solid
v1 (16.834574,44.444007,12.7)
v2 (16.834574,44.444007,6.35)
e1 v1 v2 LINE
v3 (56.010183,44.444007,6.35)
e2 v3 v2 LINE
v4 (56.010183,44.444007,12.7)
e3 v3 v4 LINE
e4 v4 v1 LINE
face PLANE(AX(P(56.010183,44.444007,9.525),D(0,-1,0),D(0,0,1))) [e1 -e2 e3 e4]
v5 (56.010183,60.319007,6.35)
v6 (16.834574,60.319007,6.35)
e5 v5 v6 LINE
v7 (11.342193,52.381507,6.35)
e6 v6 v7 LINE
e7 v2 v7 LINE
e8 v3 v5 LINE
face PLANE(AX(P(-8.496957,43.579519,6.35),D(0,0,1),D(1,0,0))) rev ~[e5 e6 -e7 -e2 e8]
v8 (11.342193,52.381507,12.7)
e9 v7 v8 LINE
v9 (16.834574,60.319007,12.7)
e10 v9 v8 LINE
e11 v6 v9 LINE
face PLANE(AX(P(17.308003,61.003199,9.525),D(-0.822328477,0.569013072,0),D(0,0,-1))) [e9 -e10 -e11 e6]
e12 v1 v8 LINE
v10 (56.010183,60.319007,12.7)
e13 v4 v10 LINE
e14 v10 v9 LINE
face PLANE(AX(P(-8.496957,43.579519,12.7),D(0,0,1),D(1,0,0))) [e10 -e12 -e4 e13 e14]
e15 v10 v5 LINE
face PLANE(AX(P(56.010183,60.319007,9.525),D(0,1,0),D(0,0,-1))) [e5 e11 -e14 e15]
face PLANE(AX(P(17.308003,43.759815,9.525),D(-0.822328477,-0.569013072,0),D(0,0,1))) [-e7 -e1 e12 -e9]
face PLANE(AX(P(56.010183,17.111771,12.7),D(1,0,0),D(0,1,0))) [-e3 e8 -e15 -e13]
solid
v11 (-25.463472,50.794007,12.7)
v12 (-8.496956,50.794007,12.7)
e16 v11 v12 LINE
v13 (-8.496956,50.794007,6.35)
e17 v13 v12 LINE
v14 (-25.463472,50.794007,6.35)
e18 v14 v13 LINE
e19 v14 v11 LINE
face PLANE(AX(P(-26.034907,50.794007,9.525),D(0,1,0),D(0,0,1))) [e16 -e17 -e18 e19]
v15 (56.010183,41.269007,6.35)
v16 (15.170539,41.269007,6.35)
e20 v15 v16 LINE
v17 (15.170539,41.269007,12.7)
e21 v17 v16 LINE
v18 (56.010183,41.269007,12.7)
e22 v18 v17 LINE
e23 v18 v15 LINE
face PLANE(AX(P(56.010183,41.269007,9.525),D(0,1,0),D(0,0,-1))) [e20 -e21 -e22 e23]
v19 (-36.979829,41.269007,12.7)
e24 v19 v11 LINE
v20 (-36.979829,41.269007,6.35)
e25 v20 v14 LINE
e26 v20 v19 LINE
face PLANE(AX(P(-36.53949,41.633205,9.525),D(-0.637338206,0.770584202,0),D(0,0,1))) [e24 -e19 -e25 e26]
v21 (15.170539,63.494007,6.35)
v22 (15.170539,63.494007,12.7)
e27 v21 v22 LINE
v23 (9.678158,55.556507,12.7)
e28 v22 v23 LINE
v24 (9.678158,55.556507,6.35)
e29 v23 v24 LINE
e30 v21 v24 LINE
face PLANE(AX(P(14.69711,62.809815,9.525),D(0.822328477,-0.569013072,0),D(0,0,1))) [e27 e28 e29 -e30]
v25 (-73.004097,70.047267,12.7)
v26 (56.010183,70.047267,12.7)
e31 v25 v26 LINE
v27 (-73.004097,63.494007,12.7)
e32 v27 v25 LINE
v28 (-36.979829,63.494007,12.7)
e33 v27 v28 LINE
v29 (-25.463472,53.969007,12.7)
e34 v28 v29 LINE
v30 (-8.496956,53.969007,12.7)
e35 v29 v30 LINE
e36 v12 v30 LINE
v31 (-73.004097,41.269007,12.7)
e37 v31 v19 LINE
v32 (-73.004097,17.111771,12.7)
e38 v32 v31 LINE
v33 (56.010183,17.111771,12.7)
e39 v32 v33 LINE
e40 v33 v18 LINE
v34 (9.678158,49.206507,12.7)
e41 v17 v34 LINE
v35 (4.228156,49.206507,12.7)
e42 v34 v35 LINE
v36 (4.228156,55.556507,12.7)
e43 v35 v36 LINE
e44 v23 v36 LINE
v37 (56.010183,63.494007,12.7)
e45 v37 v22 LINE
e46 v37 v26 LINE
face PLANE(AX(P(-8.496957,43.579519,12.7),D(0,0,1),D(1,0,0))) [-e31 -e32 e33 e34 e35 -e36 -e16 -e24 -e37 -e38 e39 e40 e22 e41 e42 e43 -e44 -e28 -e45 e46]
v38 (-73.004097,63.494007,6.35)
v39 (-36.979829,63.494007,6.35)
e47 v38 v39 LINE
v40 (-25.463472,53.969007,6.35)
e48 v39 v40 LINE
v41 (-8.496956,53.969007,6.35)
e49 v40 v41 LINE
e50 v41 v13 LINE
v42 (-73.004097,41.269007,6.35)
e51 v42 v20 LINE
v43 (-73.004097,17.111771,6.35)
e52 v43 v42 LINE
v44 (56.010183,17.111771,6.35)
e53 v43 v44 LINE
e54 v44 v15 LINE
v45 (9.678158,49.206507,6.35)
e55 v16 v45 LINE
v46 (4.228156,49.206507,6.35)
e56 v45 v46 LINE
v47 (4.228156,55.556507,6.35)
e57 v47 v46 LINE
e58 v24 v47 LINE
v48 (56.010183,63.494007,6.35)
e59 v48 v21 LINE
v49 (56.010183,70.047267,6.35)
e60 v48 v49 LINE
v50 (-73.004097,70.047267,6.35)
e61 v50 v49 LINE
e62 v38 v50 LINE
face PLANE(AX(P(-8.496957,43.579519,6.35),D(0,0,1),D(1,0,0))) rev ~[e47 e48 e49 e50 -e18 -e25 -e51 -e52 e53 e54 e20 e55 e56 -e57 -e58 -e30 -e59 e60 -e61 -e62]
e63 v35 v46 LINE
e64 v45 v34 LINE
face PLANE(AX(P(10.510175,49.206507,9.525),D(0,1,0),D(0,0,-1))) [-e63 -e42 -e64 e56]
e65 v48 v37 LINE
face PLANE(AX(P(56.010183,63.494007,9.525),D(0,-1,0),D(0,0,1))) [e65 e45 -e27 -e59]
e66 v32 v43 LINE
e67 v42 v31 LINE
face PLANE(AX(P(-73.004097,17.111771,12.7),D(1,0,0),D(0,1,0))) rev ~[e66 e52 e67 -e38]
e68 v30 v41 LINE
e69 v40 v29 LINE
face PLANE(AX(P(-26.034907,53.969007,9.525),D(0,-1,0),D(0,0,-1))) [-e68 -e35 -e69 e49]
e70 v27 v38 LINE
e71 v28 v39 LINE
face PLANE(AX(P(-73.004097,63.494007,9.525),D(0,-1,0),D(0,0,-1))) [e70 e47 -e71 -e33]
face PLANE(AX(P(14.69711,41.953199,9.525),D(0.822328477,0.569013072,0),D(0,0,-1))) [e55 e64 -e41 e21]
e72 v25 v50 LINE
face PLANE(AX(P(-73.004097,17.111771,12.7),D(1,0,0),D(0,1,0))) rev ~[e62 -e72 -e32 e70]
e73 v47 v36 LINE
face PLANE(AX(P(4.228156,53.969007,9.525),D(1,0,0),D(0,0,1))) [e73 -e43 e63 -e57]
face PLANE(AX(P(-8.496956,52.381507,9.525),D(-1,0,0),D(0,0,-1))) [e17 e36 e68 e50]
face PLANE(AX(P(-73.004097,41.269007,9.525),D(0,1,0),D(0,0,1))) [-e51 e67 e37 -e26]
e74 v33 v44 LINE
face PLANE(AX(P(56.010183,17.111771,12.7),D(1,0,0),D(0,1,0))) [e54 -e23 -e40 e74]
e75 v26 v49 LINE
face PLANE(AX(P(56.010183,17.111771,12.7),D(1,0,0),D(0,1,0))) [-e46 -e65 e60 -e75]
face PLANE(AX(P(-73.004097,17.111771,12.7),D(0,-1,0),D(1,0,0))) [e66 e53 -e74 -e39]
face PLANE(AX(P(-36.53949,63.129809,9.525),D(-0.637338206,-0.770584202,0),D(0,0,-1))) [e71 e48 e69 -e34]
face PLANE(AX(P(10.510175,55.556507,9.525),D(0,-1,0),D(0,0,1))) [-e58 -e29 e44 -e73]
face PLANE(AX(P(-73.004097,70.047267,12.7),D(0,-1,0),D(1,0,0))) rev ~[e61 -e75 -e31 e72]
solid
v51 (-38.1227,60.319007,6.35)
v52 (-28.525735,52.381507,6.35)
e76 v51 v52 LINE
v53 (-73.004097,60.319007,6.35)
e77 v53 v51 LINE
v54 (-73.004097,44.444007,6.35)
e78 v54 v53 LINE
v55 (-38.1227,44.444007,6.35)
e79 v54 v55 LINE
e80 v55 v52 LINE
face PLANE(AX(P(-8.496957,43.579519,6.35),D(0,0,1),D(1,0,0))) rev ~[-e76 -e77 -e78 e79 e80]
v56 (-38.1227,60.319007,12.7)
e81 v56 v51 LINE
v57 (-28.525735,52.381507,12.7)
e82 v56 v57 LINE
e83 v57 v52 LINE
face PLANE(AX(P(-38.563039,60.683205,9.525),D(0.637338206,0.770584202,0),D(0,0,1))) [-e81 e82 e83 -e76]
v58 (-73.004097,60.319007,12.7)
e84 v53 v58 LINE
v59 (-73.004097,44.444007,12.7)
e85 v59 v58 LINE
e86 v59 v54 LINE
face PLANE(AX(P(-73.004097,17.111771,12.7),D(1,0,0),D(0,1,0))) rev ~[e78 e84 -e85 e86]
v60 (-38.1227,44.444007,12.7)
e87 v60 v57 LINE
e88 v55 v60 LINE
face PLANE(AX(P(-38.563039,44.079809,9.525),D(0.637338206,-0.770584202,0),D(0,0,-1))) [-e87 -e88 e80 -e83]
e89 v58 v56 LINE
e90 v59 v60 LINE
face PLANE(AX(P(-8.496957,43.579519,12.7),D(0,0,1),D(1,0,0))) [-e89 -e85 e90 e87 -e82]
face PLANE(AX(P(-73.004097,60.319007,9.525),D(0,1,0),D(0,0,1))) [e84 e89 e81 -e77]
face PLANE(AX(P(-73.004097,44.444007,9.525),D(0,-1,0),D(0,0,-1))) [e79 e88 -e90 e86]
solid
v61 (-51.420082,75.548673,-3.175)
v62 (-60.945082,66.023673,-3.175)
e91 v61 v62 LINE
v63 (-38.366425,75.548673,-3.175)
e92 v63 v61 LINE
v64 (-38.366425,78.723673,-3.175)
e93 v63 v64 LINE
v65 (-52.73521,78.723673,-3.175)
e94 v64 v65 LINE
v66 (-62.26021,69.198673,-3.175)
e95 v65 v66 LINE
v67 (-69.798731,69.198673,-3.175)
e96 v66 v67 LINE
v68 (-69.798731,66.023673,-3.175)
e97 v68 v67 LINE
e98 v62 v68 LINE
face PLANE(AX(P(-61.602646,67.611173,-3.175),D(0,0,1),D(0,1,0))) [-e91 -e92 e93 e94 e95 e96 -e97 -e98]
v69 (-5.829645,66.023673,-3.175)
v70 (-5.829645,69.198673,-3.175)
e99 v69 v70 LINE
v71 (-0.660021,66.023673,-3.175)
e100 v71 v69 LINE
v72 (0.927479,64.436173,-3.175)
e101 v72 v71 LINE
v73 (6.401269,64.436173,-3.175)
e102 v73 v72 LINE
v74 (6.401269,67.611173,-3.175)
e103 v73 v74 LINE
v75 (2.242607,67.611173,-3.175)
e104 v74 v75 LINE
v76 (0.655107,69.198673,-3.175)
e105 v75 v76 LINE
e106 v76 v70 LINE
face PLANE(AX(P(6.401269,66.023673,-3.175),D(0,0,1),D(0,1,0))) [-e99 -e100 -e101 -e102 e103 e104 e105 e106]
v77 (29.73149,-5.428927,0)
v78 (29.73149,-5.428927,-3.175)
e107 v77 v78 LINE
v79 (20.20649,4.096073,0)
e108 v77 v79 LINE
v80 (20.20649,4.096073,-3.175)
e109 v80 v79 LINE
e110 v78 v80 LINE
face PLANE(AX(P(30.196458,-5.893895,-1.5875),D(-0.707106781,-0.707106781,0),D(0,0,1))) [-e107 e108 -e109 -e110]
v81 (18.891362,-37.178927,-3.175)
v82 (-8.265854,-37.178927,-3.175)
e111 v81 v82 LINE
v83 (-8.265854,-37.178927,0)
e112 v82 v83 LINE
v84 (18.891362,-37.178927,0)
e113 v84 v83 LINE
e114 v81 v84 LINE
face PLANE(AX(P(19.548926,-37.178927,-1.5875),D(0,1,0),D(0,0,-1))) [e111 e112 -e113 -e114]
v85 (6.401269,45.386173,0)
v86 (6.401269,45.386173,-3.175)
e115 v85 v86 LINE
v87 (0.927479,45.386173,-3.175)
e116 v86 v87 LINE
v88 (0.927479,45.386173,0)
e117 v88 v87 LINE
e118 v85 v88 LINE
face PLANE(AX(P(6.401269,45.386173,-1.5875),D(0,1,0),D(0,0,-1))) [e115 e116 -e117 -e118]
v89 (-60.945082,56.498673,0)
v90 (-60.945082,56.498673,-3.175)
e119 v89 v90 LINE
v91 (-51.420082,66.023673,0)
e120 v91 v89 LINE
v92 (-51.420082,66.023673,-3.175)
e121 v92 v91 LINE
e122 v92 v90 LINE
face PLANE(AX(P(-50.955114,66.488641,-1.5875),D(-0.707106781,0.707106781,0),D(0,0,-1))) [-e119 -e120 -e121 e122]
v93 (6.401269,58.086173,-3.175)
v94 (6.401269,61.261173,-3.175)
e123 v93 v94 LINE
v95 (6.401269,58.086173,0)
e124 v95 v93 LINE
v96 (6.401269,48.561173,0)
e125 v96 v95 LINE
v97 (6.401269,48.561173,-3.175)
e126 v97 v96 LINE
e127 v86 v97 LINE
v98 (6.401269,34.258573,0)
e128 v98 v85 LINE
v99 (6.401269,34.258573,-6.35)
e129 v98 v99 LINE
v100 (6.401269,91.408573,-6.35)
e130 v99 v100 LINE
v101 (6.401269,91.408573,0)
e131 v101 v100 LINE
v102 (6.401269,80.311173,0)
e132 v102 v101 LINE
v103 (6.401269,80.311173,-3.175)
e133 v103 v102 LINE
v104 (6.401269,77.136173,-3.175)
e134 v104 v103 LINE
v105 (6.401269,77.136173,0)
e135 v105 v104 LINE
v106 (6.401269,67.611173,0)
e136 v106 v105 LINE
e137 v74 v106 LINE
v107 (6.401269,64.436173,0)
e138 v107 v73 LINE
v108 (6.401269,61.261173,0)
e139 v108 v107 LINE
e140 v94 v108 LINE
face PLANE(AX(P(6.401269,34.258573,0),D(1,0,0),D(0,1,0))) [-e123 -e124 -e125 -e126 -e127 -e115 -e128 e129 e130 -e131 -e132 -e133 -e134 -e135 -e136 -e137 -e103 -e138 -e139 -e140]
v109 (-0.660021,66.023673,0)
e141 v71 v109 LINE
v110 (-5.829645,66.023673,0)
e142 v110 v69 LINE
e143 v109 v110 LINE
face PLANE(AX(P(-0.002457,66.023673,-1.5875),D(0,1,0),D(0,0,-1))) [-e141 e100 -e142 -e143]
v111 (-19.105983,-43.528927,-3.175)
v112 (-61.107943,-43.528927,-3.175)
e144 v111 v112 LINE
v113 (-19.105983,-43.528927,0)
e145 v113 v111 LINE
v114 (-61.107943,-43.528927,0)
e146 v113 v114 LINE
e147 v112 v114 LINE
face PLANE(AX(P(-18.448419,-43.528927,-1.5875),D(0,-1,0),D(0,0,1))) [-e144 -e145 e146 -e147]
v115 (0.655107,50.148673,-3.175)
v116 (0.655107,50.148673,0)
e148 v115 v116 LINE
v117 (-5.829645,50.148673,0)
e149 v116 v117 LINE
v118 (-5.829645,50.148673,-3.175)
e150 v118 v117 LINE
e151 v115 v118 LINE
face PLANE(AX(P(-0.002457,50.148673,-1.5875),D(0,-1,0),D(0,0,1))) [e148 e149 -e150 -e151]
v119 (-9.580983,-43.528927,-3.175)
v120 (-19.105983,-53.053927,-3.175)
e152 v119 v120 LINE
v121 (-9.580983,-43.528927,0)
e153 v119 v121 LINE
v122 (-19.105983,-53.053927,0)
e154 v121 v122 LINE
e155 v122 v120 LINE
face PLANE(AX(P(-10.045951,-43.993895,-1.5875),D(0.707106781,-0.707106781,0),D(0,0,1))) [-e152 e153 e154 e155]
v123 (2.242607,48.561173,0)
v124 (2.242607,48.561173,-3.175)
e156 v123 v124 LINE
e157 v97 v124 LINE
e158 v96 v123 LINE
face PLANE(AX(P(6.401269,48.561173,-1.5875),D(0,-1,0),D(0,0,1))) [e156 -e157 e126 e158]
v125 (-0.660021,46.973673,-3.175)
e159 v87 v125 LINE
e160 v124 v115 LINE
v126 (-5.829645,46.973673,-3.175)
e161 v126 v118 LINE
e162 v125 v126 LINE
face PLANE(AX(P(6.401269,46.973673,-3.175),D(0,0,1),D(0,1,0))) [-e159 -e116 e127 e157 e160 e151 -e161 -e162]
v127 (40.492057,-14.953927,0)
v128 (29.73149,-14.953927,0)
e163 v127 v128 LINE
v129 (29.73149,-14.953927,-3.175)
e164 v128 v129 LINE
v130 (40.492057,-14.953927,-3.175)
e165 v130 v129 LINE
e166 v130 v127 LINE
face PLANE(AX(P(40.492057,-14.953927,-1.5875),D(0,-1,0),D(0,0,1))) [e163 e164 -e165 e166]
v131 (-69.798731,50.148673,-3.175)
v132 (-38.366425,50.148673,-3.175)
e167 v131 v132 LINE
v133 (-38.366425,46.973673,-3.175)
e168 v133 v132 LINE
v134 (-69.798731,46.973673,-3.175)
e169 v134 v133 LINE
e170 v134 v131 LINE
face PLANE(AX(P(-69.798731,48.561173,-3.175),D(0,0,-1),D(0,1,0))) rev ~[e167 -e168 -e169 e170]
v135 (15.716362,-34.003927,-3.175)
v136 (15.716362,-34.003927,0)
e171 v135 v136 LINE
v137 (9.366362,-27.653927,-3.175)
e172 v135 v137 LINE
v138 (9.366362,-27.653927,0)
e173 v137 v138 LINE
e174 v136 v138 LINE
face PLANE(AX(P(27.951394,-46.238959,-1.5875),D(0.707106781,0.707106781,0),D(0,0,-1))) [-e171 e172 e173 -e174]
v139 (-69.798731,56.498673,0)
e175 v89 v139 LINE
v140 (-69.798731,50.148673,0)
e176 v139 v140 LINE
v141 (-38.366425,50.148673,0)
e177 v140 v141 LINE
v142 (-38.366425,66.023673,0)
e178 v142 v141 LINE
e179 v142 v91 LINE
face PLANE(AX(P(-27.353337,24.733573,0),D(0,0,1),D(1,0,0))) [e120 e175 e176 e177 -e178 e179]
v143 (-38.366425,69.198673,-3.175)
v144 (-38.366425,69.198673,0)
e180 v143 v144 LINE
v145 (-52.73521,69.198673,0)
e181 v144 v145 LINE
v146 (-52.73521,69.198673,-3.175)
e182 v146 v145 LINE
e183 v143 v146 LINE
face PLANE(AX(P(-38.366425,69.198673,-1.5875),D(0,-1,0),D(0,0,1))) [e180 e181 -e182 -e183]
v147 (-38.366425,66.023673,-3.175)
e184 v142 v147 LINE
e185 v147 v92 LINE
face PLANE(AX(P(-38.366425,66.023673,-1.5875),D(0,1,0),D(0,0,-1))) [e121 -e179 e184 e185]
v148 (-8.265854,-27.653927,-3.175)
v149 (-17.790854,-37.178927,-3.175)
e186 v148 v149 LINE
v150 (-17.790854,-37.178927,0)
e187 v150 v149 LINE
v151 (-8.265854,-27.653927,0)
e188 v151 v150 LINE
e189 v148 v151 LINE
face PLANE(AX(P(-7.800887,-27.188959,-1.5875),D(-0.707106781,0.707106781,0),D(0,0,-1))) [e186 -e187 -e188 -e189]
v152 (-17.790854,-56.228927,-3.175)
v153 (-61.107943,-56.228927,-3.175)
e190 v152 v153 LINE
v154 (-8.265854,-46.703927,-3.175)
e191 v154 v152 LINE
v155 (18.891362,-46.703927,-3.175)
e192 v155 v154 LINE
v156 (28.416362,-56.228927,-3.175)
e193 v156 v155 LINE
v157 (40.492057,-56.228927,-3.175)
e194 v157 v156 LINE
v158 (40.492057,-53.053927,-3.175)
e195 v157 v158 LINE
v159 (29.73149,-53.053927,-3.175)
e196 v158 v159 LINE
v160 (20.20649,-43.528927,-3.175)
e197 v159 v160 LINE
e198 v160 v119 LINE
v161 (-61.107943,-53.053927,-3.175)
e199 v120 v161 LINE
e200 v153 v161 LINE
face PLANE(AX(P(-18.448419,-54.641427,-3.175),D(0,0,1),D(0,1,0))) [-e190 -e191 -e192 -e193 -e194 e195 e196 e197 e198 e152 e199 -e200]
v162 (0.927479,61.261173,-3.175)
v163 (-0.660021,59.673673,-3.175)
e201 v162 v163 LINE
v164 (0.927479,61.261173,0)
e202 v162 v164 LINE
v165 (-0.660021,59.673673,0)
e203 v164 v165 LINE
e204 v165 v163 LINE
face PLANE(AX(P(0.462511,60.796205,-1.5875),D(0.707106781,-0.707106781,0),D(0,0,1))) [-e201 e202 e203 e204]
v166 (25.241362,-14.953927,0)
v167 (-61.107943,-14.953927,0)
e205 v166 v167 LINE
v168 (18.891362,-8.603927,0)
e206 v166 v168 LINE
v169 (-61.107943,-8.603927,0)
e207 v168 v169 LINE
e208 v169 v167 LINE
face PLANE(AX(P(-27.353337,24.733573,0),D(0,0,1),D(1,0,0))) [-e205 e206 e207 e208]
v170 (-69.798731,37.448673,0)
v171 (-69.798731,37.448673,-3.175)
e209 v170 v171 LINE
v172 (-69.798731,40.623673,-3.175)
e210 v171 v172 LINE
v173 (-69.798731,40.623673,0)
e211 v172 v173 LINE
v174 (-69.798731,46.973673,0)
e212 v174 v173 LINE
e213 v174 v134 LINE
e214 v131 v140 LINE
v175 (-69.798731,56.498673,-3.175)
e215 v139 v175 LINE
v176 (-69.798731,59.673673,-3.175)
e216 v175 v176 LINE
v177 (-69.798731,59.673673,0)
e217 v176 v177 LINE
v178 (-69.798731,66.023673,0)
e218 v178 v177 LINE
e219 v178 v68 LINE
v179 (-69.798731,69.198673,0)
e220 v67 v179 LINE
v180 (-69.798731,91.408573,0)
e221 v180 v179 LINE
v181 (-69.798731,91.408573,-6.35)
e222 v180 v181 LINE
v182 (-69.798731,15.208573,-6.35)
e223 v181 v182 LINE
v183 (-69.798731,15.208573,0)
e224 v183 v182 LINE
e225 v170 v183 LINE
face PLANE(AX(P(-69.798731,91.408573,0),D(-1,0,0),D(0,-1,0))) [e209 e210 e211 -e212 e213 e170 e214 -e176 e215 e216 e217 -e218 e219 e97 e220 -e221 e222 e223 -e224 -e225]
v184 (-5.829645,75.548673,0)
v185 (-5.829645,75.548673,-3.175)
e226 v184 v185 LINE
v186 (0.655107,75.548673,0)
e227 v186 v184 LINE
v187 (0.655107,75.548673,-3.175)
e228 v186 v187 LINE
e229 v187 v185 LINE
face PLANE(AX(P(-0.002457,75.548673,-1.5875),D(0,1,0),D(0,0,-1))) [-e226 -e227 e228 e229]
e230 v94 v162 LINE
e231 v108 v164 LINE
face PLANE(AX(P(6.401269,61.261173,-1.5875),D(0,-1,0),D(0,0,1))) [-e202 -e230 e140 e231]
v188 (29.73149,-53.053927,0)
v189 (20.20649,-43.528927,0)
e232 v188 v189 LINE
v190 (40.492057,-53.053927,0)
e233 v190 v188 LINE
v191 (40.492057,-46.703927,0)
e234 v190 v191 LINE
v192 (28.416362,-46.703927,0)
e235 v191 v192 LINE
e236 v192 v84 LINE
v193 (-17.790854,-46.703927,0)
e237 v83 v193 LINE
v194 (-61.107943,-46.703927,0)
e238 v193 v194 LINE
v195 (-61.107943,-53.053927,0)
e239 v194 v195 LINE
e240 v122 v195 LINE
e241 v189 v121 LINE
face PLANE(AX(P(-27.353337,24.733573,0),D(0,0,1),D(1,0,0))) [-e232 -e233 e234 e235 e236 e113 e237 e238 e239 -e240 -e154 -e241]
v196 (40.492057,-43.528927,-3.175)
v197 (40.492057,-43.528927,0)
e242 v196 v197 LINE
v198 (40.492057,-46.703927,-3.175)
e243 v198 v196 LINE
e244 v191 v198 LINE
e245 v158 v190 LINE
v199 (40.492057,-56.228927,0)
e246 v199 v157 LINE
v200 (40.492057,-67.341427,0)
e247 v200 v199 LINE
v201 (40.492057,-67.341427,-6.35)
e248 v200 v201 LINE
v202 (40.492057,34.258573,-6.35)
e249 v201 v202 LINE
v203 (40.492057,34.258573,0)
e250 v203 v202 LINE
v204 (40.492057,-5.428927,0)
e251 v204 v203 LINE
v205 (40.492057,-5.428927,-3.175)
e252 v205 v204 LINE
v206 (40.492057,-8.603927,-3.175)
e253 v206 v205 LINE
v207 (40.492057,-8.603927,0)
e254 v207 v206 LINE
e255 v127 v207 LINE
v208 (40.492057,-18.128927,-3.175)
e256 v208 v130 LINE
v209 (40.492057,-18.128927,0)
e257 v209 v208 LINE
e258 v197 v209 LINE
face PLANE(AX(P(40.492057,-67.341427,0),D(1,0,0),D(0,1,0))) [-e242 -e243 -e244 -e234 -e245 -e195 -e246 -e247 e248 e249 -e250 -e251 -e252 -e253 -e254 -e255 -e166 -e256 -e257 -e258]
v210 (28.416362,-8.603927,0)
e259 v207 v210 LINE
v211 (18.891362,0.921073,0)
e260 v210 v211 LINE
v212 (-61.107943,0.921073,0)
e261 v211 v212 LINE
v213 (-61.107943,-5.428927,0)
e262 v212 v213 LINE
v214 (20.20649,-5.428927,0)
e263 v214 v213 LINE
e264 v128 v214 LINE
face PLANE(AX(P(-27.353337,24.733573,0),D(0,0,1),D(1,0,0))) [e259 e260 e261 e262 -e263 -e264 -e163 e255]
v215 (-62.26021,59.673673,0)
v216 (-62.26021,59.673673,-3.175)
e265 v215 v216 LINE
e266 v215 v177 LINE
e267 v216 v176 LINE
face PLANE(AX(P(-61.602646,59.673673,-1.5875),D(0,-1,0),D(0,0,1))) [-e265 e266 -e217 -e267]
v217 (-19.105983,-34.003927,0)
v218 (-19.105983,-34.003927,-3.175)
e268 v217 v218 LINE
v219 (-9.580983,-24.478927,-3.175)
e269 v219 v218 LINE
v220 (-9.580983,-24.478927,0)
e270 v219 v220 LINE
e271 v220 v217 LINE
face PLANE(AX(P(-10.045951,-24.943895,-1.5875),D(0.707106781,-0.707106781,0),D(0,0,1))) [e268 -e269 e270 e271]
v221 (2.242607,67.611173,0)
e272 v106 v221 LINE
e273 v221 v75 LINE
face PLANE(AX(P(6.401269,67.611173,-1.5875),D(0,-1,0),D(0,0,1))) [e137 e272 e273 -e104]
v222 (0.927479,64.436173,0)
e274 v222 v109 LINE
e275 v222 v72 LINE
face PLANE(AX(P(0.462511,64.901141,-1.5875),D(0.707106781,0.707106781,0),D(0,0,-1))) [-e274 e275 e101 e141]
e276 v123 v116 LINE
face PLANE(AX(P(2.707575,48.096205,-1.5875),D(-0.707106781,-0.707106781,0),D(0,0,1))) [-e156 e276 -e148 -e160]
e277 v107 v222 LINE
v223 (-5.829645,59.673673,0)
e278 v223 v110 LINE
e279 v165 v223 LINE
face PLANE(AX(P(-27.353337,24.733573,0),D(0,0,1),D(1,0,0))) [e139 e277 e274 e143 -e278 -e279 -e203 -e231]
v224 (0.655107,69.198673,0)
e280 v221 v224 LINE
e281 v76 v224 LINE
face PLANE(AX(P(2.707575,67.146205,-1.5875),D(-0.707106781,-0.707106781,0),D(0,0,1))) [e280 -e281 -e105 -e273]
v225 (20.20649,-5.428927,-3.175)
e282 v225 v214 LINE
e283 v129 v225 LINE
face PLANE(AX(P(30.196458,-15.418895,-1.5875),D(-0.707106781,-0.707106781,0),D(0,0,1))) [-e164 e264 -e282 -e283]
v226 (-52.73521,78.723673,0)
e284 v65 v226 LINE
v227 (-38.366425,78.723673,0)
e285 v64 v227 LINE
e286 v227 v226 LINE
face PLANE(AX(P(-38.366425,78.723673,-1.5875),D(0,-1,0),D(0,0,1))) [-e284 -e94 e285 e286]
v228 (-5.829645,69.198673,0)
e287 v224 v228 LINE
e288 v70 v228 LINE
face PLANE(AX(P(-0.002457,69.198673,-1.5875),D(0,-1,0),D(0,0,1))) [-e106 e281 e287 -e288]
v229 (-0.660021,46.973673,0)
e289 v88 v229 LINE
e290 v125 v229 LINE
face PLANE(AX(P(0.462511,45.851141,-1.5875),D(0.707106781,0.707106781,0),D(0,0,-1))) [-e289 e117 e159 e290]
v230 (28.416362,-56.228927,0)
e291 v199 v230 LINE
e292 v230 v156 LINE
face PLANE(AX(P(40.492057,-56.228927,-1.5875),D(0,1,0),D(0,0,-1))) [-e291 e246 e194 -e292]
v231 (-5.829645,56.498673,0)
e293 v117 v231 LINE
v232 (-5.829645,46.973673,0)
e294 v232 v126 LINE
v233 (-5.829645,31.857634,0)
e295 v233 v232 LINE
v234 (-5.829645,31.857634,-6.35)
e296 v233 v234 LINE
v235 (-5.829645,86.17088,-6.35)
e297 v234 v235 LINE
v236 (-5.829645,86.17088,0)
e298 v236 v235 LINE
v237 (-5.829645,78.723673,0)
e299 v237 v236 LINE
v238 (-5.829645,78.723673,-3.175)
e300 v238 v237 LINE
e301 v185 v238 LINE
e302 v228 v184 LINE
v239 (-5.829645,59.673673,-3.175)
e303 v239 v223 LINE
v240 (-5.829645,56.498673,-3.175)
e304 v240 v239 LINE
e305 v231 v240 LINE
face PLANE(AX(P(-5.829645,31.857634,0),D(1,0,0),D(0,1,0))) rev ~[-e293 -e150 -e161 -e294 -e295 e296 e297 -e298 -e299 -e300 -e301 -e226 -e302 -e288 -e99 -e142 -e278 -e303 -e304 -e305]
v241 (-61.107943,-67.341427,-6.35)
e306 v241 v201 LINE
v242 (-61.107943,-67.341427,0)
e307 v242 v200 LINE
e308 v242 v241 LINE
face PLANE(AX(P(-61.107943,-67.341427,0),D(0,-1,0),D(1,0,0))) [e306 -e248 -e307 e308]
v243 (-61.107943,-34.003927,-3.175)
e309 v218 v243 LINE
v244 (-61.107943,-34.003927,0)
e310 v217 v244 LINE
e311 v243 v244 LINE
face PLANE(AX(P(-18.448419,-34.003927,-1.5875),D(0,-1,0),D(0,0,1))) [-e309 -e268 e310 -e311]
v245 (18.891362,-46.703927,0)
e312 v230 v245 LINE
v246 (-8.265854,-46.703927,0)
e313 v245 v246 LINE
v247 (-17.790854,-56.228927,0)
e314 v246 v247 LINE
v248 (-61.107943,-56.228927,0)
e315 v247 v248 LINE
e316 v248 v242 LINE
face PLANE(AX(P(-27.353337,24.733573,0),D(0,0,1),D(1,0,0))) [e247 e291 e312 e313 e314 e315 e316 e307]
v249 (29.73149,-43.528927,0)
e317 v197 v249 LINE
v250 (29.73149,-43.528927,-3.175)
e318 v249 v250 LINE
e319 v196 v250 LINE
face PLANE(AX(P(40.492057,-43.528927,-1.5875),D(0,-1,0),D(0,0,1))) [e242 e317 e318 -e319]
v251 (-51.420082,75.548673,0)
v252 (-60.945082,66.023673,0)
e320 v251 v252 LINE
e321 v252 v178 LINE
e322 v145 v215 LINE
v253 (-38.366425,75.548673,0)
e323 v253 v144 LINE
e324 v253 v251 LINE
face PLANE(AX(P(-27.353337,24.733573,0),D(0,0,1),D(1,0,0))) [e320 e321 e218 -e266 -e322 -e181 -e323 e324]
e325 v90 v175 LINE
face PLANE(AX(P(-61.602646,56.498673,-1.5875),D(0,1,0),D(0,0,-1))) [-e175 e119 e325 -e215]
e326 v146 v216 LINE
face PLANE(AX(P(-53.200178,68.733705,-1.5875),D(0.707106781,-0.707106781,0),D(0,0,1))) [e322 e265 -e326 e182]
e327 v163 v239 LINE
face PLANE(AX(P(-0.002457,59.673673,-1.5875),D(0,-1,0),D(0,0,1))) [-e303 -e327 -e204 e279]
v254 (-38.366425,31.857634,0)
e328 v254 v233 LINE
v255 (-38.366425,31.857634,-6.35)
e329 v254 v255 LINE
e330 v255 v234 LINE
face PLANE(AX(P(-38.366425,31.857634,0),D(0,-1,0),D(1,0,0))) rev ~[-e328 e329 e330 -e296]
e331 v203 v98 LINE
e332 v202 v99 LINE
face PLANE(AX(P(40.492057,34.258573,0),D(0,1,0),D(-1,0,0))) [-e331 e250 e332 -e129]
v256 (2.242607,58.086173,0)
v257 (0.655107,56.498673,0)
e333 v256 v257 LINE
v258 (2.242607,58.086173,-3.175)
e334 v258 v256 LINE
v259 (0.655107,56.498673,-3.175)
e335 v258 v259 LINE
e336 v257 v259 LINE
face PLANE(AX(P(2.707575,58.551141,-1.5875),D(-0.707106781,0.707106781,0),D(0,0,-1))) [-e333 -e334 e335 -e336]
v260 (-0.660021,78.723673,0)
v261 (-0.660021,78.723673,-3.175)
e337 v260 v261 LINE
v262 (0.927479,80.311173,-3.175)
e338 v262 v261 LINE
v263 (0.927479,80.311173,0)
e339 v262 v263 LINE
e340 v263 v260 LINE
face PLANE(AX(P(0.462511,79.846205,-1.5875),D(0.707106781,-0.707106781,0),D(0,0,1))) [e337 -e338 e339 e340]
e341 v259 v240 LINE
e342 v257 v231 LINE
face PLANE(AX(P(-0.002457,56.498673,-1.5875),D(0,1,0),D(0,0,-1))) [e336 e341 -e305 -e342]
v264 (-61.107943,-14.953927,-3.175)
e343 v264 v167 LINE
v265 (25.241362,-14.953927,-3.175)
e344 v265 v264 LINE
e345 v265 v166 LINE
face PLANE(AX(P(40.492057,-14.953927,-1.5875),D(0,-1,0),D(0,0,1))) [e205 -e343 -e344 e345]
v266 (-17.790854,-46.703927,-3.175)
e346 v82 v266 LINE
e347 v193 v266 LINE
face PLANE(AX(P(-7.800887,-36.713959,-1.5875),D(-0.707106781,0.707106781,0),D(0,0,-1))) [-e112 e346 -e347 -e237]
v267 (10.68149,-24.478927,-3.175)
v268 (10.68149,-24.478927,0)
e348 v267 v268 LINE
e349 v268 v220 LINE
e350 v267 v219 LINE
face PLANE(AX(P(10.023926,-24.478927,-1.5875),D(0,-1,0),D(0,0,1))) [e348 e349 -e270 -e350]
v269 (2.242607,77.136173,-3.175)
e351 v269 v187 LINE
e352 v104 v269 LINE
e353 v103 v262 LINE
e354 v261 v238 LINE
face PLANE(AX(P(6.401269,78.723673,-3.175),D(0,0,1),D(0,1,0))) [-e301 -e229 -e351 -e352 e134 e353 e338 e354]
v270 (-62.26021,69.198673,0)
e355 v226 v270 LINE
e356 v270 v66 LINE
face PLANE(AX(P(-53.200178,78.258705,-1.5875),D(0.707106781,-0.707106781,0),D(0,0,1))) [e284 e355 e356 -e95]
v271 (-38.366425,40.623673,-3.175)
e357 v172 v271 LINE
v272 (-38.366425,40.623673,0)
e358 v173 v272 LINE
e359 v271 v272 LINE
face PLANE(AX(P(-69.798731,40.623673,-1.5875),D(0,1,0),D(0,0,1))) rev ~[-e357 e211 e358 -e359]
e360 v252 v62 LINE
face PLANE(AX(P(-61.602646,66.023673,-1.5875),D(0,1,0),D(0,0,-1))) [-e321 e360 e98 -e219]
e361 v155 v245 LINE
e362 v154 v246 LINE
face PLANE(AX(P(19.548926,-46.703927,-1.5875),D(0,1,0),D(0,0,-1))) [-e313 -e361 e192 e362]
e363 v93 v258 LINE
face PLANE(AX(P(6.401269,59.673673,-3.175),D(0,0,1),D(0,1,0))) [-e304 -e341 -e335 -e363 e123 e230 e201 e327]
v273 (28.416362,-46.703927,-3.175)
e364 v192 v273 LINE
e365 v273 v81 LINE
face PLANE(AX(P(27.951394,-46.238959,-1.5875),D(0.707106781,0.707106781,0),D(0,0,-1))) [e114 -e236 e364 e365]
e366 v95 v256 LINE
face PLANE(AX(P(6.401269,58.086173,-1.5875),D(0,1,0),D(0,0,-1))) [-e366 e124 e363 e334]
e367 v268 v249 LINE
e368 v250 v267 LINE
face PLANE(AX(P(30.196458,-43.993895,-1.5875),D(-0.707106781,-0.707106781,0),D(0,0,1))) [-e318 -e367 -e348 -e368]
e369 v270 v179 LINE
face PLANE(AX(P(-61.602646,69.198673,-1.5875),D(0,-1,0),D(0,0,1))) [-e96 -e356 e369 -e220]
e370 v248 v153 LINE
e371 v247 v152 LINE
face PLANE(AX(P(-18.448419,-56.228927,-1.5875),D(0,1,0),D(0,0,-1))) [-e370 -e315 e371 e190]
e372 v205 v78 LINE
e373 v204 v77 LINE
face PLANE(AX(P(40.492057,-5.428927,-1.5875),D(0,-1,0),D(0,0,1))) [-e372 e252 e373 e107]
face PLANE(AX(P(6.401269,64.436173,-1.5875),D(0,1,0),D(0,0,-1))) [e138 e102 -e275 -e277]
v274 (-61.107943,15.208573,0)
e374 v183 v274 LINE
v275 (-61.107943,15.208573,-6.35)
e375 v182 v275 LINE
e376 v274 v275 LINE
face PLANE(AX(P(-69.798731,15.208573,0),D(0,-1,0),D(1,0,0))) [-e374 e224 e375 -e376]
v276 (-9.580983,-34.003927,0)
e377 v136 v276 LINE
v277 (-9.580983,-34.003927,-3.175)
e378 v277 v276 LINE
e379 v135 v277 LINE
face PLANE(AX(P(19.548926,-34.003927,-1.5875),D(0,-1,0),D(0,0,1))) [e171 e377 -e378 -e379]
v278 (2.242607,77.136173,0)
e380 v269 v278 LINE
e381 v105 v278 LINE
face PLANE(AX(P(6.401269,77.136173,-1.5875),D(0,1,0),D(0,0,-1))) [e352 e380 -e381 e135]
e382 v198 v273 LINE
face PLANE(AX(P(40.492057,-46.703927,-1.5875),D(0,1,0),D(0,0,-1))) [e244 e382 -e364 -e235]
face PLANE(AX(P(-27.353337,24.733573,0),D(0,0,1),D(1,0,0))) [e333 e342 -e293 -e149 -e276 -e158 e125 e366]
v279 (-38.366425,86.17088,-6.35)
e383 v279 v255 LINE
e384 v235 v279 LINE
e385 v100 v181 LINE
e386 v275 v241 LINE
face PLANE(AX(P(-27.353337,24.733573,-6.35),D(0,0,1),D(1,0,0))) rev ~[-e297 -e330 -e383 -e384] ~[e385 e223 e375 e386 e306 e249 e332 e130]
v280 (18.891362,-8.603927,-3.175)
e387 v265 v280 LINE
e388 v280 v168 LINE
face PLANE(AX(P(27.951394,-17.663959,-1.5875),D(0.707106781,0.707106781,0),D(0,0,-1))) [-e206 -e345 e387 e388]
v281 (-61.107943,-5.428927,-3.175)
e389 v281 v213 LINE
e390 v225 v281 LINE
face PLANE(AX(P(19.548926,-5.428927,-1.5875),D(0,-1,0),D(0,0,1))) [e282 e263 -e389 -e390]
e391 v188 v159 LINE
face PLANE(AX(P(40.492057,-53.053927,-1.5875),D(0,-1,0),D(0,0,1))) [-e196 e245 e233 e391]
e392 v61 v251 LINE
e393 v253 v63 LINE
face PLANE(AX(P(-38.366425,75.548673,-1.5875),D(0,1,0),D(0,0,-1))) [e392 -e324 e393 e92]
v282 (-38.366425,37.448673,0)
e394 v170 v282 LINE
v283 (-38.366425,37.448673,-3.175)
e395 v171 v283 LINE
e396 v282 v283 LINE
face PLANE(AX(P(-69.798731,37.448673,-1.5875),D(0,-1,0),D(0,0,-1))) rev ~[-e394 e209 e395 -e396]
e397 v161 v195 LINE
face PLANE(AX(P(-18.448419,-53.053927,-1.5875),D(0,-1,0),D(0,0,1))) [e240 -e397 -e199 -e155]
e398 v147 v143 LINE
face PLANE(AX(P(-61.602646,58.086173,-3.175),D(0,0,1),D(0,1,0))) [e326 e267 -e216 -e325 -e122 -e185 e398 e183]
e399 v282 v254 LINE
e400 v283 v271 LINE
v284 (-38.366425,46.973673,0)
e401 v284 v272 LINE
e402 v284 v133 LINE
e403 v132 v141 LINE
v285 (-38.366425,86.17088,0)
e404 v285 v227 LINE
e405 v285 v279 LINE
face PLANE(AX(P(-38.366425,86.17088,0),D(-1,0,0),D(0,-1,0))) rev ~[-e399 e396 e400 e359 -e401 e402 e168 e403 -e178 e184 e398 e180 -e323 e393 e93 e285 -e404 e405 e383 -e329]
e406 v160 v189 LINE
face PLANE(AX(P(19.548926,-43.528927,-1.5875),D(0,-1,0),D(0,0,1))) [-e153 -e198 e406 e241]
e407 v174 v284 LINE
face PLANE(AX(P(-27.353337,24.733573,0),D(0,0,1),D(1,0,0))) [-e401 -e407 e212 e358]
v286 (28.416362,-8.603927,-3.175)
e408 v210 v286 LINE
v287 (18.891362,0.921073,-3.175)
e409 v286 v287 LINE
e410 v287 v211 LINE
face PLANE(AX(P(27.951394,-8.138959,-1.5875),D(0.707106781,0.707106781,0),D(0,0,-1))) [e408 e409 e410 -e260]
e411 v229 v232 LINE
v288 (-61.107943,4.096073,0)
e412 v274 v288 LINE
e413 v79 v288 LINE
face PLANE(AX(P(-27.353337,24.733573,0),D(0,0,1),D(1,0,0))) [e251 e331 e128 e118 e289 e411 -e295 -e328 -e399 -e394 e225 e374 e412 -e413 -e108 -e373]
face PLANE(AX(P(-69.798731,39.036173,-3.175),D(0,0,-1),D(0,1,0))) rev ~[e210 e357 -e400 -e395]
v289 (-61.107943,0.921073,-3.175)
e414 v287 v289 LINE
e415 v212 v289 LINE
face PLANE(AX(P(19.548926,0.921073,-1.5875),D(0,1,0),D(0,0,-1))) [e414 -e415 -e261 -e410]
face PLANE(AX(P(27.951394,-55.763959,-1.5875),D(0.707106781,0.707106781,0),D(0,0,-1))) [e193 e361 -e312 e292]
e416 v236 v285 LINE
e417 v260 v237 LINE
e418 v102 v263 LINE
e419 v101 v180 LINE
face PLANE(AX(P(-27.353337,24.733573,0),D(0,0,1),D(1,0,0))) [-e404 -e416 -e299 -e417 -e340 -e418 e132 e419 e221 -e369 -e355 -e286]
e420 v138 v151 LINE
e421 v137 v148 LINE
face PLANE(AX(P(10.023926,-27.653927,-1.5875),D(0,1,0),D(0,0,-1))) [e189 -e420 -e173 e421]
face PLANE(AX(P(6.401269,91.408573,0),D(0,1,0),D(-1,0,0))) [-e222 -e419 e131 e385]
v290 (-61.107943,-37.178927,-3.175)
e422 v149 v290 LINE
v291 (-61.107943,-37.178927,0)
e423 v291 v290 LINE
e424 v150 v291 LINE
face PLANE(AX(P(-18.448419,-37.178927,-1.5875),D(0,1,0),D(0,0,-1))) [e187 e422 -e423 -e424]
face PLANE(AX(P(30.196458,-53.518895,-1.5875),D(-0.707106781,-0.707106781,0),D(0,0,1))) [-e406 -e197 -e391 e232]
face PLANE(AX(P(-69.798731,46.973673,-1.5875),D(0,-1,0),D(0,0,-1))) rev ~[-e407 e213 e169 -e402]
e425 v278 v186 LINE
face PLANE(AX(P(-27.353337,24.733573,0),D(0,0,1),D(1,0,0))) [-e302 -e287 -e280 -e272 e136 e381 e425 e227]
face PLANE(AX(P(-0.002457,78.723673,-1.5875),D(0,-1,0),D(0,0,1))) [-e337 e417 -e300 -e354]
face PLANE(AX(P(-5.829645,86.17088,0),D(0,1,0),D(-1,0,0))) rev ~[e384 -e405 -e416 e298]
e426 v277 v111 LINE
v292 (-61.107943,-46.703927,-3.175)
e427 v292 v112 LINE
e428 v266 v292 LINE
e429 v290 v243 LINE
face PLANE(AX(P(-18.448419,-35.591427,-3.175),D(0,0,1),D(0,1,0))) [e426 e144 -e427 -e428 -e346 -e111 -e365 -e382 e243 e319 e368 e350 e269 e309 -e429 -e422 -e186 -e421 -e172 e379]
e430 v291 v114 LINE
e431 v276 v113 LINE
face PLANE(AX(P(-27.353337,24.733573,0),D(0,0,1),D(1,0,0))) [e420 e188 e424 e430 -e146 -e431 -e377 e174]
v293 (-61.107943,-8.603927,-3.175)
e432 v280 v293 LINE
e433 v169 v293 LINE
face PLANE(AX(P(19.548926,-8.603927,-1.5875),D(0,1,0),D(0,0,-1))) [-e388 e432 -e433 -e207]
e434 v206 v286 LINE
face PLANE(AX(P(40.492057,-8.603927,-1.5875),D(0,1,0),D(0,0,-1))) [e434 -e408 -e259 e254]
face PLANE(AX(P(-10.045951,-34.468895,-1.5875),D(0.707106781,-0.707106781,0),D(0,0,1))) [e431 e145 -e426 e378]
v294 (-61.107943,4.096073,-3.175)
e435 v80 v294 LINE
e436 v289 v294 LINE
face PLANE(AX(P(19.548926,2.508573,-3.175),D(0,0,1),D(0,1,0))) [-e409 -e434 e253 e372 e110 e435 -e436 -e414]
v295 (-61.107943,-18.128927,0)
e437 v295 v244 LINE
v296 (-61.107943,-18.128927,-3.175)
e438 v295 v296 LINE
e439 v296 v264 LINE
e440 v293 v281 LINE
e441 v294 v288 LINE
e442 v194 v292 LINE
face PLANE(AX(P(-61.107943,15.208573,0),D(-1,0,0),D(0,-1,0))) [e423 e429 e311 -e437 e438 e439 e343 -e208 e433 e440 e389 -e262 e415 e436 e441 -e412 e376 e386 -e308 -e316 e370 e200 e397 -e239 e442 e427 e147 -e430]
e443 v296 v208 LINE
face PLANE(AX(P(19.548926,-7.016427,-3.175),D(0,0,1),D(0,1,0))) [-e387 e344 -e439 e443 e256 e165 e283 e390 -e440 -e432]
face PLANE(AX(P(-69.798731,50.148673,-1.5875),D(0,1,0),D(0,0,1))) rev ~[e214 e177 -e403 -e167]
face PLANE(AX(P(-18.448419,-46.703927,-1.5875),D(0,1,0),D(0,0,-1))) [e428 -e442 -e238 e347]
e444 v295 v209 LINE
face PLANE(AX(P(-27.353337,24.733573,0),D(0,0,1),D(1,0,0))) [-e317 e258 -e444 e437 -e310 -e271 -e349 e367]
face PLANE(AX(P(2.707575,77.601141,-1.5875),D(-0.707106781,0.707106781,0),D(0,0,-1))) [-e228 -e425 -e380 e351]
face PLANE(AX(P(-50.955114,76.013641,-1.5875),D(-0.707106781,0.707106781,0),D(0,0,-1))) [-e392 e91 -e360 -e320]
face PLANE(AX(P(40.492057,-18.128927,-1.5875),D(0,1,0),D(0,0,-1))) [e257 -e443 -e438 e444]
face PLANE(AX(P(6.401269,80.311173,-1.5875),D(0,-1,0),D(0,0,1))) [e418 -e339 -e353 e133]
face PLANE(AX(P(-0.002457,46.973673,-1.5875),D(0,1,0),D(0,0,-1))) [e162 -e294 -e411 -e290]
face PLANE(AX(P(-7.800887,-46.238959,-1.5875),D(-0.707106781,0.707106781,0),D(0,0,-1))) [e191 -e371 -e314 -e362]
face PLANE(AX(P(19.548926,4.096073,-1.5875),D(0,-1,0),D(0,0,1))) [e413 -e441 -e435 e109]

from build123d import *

# Parameters (mm, degrees)
F0_W      = 67.5092114359
F0_H      = 19.05
F1_DEPTH  = 6.35
F3_W      = 3.175
F3_H      = 3.175
F11_DEPTH = 6.351
F12_W     = 3.175
F12_H     = 3.175
F17_W     = 3.175
F17_H     = 3.175
F23_W     = 129.0142796934
F23_H     = 52.9354959726
F24_DEPTH = 6.35
F26_W     = 3.175
F26_H     = 6.35
F29_W     = 3.175
F29_H     = 6.35


with BuildPart() as f1:
    # F0 (on Top) → F1 (new body)
    with BuildSketch(Plane.XY):
        with Locations((-27.3533369526, 24.7335730806)):
            Rectangle(F0_W, F0_H)
        Polygon((40.4920573294, 34.2585730806), (6.4012687653, 34.2585730806), (6.4012687653, 15.2085730806), (-61.1079426706, 15.2085730806), (-61.1079426706, -67.3414269194), (40.4920573294, -67.3414269194), align=None)
        Polygon((-61.1079426706, 15.2085730806), (-61.1079426706, 34.2585730806), (6.4012687653, 34.2585730806), (6.4012687653, 91.4085730806), (-69.7987312347, 91.4085730806), (-69.7987312347, 15.2085730806), align=None)
    extrude(amount=-F1_DEPTH)

    # F4: sweep along a path in F2
    with BuildLine(Plane.XY) as f4_path:
        Line((40.4920573294, -54.6414269194), (29.0739262488, -54.6414269194))
        Line((29.0739262488, -54.6414269194), (19.5489262488, -45.1164269194))
        Line((19.5489262488, -45.1164269194), (-8.9234185219, -45.1164269194))
        Line((-8.9234185219, -45.1164269194), (-18.4484185219, -54.6414269194))
        Line((-18.4484185219, -54.6414269194), (-61.1079426706, -54.6414269194))
    # F3 (on face) → F4 (sweep, cut)
    with BuildSketch(Plane.YZ.offset(40.4920573294)):
        with Locations((-54.6414269194, -1.5875)):
            Rectangle(F3_W, F3_H)
    sweep(path=f4_path.line, transition=Transition.RIGHT, mode=Mode.SUBTRACT)

    # F5: sweep along a path in F2
    with BuildLine(Plane.XY) as f5_path:
        Line((40.4920573294, -45.1164269194), (29.0739262488, -45.1164269194))
        Line((29.0739262488, -45.1164269194), (19.5489262488, -35.5914269194))
        Line((19.5489262488, -35.5914269194), (-8.9234185219, -35.5914269194))
        Line((-8.9234185219, -35.5914269194), (-18.4484185219, -45.1164269194))
        Line((-18.4484185219, -45.1164269194), (-61.1079426706, -45.1164269194))
    # F3 (on face) → F5 (sweep, cut)
    with BuildSketch(Plane.YZ.offset(40.4920573294)):
        with Locations((-45.1164269194, -1.5875)):
            Rectangle(F3_W, F3_H)
    sweep(path=f5_path.line, transition=Transition.RIGHT, mode=Mode.SUBTRACT)

    # F6: sweep along a path in F2
    with BuildLine(Plane.XY) as f6_path:
        Line((40.4920573294, -45.1164269194), (29.0739262488, -45.1164269194))
        Line((29.0739262488, -45.1164269194), (19.5489262488, -35.5914269194))
        Line((19.5489262488, -35.5914269194), (10.0239262488, -26.0664269194))
        Line((10.0239262488, -26.0664269194), (-8.9234185219, -26.0664269194))
        Line((-8.9234185219, -26.0664269194), (-18.4484185219, -35.5914269194))
        Line((-18.4484185219, -35.5914269194), (-61.1079426706, -35.5914269194))
    # F3 (on face) → F6 (sweep, cut)
    with BuildSketch(Plane.YZ.offset(40.4920573294)):
        with Locations((-45.1164269194, -1.5875)):
            Rectangle(F3_W, F3_H)
    sweep(path=f6_path.line, transition=Transition.RIGHT, mode=Mode.SUBTRACT)

    # F7: sweep along a path in F2
    with BuildLine(Plane.XY) as f7_path:
        Line((40.4920573294, -16.5414269194), (29.0739262488, -16.5414269194))
        Line((29.0739262488, -16.5414269194), (-61.1079426706, -16.5414269194))
    # F3 (on face) → F7 (sweep, cut)
    with BuildSketch(Plane.YZ.offset(40.4920573294)):
        with Locations((-16.5414269194, -1.5875)):
            Rectangle(F3_W, F3_H)
    sweep(path=f7_path.line, mode=Mode.SUBTRACT)

    # F8: sweep along a path in F2
    with BuildLine(Plane.XY) as f8_path:
        Line((40.4920573294, -16.5414269194), (29.0739262488, -16.5414269194))
        Line((29.0739262488, -16.5414269194), (19.5489262488, -7.0164269194))
        Line((19.5489262488, -7.0164269194), (-61.1079426706, -7.0164269194))
    # F3 (on face) → F8 (sweep, cut)
    with BuildSketch(Plane.YZ.offset(40.4920573294)):
        with Locations((-16.5414269194, -1.5875)):
            Rectangle(F3_W, F3_H)
    sweep(path=f8_path.line, transition=Transition.RIGHT, mode=Mode.SUBTRACT)

    # F9: sweep along a path in F2
    with BuildLine(Plane.XY) as f9_path:
        Line((40.4920573294, -7.0164269194), (29.0739262488, -7.0164269194))
        Line((29.0739262488, -7.0164269194), (19.5489262488, 2.5085730806))
        Line((19.5489262488, 2.5085730806), (-61.1079426706, 2.5085730806))
    # F3 (on face) → F9 (sweep, cut)
    with BuildSketch(Plane.YZ.offset(40.4920573294)):
        with Locations((-7.0164269194, -1.5875)):
            Rectangle(F3_W, F3_H)
    sweep(path=f9_path.line, transition=Transition.RIGHT, mode=Mode.SUBTRACT)

    # F10 (on face) → F11 (cut, through all)
    with BuildSketch(Plane.XY):
        Polygon((-5.8296445429, 86.1708798528), (-38.3664250046, 86.1708798528), (-38.3664250046, 77.1361727774), (-38.3664250046, 67.6111727774), (-38.3664250046, 48.5611727774), (-38.3664250046, 39.0361727774), (-38.3664250046, 31.857633692), (-5.8296445429, 31.857633692), (-5.8296445429, 48.5611727774), (-5.8296445429, 58.0861727774), (-5.8296445429, 67.6111727774), (-5.8296445429, 77.1361727774), align=None)
    extrude(amount=-F11_DEPTH, mode=Mode.SUBTRACT)

    # F13: sweep along a path in F10
    with BuildLine(Plane.XY) as f13_path:
        Line((6.4012687653, 46.9736727774), (1.5850432101, 46.9736727774))
        Line((1.5850432101, 46.9736727774), (-0.0024567899, 48.5611727774))
        Line((-0.0024567899, 48.5611727774), (-5.8296445429, 48.5611727774))
    # F12 (on face) → F13 (sweep, cut)
    with BuildSketch(Plane.YZ.offset(6.4012687653)):
        with Locations((46.9736727774, -1.5875)):
            Rectangle(F12_W, F12_H)
    sweep(path=f13_path.line, transition=Transition.RIGHT, mode=Mode.SUBTRACT)

    # F14: sweep along a path in F10
    with BuildLine(Plane.XY) as f14_path:
        Line((6.4012687653, 59.6736727774), (1.5850432101, 59.6736727774))
        Line((1.5850432101, 59.6736727774), (-0.0024567899, 58.0861727774))
        Line((-0.0024567899, 58.0861727774), (-5.8296445429, 58.0861727774))
    # F12 (on face) → F14 (sweep, cut)
    with BuildSketch(Plane.YZ.offset(6.4012687653)):
        with Locations((59.6736727774, -1.5875)):
            Rectangle(F12_W, F12_H)
    sweep(path=f14_path.line, transition=Transition.RIGHT, mode=Mode.SUBTRACT)

    # F15: sweep along a path in F10
    with BuildLine(Plane.XY) as f15_path:
        Line((6.4012687653, 66.0236727774), (1.5850432101, 66.0236727774))
        Line((1.5850432101, 66.0236727774), (-0.0024567899, 67.6111727774))
        Line((-0.0024567899, 67.6111727774), (-5.8296445429, 67.6111727774))
    # F12 (on face) → F15 (sweep, cut)
    with BuildSketch(Plane.YZ.offset(6.4012687653)):
        with Locations((66.0236727774, -1.5875)):
            Rectangle(F12_W, F12_H)
    sweep(path=f15_path.line, transition=Transition.RIGHT, mode=Mode.SUBTRACT)

    # F16: sweep along a path in F10
    with BuildLine(Plane.XY) as f16_path:
        Line((6.4012687653, 78.7236727774), (1.5850432101, 78.7236727774))
        Line((1.5850432101, 78.7236727774), (-0.0024567899, 77.1361727774))
        Line((-0.0024567899, 77.1361727774), (-5.8296445429, 77.1361727774))
    # F12 (on face) → F16 (sweep, cut)
    with BuildSketch(Plane.YZ.offset(6.4012687653)):
        with Locations((78.7236727774, -1.5875)):
            Rectangle(F12_W, F12_H)
    sweep(path=f16_path.line, transition=Transition.RIGHT, mode=Mode.SUBTRACT)

    # F18: sweep along a path in F10
    with BuildLine(Plane.XY) as f18_path:
        Line((-69.7987312347, 39.0361727774), (-38.3664250046, 39.0361727774))
    # F17 (on face) → F18 (sweep, cut)
    with BuildSketch(Plane.YZ.offset(-38.3664250046)):
        with Locations((39.0361727774, -1.5875)):
            Rectangle(F17_W, F17_H)
    sweep(path=f18_path.line, mode=Mode.SUBTRACT)

    # F19: sweep along a path in F10
    with BuildLine(Plane.XY) as f19_path:
        Line((-69.7987312347, 48.5611727774), (-38.3664250046, 48.5611727774))
    # F17 (on face) → F19 (sweep, cut)
    with BuildSketch(Plane.YZ.offset(-38.3664250046)):
        with Locations((48.5611727774, -1.5875)):
            Rectangle(F17_W, F17_H)
    sweep(path=f19_path.line, mode=Mode.SUBTRACT)

    # F20: sweep along a path in F10
    with BuildLine(Plane.XY) as f20_path:
        Line((-38.3664250046, 67.6111727774), (-52.0776462495, 67.6111727774))
        Line((-52.0776462495, 67.6111727774), (-61.6026462495, 58.0861727774))
        Line((-61.6026462495, 58.0861727774), (-69.7987312347, 58.0861727774))
    # F17 (on face) → F20 (sweep, cut)
    with BuildSketch(Plane.YZ.offset(-38.3664250046)):
        with Locations((67.6111727774, -1.5875)):
            Rectangle(F17_W, F17_H)
    sweep(path=f20_path.line, transition=Transition.RIGHT, mode=Mode.SUBTRACT)

    # F21: sweep along a path in F10
    with BuildLine(Plane.XY) as f21_path:
        Line((-38.3664250046, 77.1361727774), (-52.0776462495, 77.1361727774))
        Line((-52.0776462495, 77.1361727774), (-61.6026462495, 67.6111727774))
        Line((-61.6026462495, 67.6111727774), (-69.7987312347, 67.6111727774))
    # F17 (on face) → F21 (sweep, cut)
    with BuildSketch(Plane.YZ.offset(-38.3664250046)):
        with Locations((77.1361727774, -1.5875)):
            Rectangle(F17_W, F17_H)
    sweep(path=f21_path.line, transition=Transition.RIGHT, mode=Mode.SUBTRACT)


with BuildPart() as f24:
    # F23 (on offset) → F24 (new body)
    with BuildSketch(Plane.XY.offset(12.7)):
        with Locations((-8.4969568998, 43.579518795)):
            Rectangle(F23_W, F23_H)
    extrude(amount=-F24_DEPTH)

    # F27: sweep along a path in F25
    with BuildLine(Plane.XY.offset(12.7)) as f27_path:
        Line((56.0101829469, 42.8565069854), (16.0025564314, 42.8565069854))
        Line((16.0025564314, 42.8565069854), (10.5101754889, 50.7940069854))
        Line((10.5101754889, 50.7940069854), (4.2281555943, 50.7940069854))
    # F26 (on face) → F27 (sweep, cut)
    with BuildSketch(Plane.YZ.offset(56.0101829469)):
        with Locations((42.8565069854, 9.525)):
            Rectangle(F26_W, F26_H)
    sweep(path=f27_path.line, transition=Transition.RIGHT, mode=Mode.SUBTRACT)

    # F28: sweep along a path in F25
    with BuildLine(Plane.XY.offset(12.7)) as f28_path:
        Line((56.0101829469, 61.9065069854), (16.0025564314, 61.9065069854))
        Line((16.0025564314, 61.9065069854), (10.5101754889, 53.9690069854))
        Line((10.5101754889, 53.9690069854), (4.2281555943, 53.9690069854))
    # F26 (on face) → F28 (sweep, cut)
    with BuildSketch(Plane.YZ.offset(56.0101829469)):
        with Locations((61.9065069854, 9.525)):
            Rectangle(F26_W, F26_H)
    sweep(path=f28_path.line, transition=Transition.RIGHT, mode=Mode.SUBTRACT)

    # F30: sweep along a path in F25
    with BuildLine(Plane.XY.offset(12.7)) as f30_path:
        Line((-73.0040967464, 61.9065069854), (-37.551264533, 61.9065069854))
        Line((-37.551264533, 61.9065069854), (-26.0349071953, 52.3815069854))
        Line((-26.0349071953, 52.3815069854), (-8.4969559684, 52.3815069854))
    # F29 (on face) → F30 (sweep, cut)
    with BuildSketch(Plane(origin=(-73.0040967464, 0, 0), x_dir=(0, -1, 0), z_dir=(-1, 0, 0))):
        with Locations((-61.9065069854, 9.525)):
            Rectangle(F29_W, F29_H)
    sweep(path=f30_path.line, transition=Transition.RIGHT, mode=Mode.SUBTRACT)

    # F31: sweep along a path in F25
    with BuildLine(Plane.XY.offset(12.7)) as f31_path:
        Line((-73.0040967464, 42.8565069854), (-37.551264533, 42.8565069854))
        Line((-37.551264533, 42.8565069854), (-26.0349071953, 52.3815069854))
    # F29 (on face) → F31 (sweep, cut)
    with BuildSketch(Plane(origin=(-73.0040967464, 0, 0), x_dir=(0, -1, 0), z_dir=(-1, 0, 0))):
        with Locations((-42.8565069854, 9.525)):
            Rectangle(F29_W, F29_H)
    sweep(path=f31_path.line, transition=Transition.RIGHT, mode=Mode.SUBTRACT)


solid = Compound([f1.part, f24.part])
